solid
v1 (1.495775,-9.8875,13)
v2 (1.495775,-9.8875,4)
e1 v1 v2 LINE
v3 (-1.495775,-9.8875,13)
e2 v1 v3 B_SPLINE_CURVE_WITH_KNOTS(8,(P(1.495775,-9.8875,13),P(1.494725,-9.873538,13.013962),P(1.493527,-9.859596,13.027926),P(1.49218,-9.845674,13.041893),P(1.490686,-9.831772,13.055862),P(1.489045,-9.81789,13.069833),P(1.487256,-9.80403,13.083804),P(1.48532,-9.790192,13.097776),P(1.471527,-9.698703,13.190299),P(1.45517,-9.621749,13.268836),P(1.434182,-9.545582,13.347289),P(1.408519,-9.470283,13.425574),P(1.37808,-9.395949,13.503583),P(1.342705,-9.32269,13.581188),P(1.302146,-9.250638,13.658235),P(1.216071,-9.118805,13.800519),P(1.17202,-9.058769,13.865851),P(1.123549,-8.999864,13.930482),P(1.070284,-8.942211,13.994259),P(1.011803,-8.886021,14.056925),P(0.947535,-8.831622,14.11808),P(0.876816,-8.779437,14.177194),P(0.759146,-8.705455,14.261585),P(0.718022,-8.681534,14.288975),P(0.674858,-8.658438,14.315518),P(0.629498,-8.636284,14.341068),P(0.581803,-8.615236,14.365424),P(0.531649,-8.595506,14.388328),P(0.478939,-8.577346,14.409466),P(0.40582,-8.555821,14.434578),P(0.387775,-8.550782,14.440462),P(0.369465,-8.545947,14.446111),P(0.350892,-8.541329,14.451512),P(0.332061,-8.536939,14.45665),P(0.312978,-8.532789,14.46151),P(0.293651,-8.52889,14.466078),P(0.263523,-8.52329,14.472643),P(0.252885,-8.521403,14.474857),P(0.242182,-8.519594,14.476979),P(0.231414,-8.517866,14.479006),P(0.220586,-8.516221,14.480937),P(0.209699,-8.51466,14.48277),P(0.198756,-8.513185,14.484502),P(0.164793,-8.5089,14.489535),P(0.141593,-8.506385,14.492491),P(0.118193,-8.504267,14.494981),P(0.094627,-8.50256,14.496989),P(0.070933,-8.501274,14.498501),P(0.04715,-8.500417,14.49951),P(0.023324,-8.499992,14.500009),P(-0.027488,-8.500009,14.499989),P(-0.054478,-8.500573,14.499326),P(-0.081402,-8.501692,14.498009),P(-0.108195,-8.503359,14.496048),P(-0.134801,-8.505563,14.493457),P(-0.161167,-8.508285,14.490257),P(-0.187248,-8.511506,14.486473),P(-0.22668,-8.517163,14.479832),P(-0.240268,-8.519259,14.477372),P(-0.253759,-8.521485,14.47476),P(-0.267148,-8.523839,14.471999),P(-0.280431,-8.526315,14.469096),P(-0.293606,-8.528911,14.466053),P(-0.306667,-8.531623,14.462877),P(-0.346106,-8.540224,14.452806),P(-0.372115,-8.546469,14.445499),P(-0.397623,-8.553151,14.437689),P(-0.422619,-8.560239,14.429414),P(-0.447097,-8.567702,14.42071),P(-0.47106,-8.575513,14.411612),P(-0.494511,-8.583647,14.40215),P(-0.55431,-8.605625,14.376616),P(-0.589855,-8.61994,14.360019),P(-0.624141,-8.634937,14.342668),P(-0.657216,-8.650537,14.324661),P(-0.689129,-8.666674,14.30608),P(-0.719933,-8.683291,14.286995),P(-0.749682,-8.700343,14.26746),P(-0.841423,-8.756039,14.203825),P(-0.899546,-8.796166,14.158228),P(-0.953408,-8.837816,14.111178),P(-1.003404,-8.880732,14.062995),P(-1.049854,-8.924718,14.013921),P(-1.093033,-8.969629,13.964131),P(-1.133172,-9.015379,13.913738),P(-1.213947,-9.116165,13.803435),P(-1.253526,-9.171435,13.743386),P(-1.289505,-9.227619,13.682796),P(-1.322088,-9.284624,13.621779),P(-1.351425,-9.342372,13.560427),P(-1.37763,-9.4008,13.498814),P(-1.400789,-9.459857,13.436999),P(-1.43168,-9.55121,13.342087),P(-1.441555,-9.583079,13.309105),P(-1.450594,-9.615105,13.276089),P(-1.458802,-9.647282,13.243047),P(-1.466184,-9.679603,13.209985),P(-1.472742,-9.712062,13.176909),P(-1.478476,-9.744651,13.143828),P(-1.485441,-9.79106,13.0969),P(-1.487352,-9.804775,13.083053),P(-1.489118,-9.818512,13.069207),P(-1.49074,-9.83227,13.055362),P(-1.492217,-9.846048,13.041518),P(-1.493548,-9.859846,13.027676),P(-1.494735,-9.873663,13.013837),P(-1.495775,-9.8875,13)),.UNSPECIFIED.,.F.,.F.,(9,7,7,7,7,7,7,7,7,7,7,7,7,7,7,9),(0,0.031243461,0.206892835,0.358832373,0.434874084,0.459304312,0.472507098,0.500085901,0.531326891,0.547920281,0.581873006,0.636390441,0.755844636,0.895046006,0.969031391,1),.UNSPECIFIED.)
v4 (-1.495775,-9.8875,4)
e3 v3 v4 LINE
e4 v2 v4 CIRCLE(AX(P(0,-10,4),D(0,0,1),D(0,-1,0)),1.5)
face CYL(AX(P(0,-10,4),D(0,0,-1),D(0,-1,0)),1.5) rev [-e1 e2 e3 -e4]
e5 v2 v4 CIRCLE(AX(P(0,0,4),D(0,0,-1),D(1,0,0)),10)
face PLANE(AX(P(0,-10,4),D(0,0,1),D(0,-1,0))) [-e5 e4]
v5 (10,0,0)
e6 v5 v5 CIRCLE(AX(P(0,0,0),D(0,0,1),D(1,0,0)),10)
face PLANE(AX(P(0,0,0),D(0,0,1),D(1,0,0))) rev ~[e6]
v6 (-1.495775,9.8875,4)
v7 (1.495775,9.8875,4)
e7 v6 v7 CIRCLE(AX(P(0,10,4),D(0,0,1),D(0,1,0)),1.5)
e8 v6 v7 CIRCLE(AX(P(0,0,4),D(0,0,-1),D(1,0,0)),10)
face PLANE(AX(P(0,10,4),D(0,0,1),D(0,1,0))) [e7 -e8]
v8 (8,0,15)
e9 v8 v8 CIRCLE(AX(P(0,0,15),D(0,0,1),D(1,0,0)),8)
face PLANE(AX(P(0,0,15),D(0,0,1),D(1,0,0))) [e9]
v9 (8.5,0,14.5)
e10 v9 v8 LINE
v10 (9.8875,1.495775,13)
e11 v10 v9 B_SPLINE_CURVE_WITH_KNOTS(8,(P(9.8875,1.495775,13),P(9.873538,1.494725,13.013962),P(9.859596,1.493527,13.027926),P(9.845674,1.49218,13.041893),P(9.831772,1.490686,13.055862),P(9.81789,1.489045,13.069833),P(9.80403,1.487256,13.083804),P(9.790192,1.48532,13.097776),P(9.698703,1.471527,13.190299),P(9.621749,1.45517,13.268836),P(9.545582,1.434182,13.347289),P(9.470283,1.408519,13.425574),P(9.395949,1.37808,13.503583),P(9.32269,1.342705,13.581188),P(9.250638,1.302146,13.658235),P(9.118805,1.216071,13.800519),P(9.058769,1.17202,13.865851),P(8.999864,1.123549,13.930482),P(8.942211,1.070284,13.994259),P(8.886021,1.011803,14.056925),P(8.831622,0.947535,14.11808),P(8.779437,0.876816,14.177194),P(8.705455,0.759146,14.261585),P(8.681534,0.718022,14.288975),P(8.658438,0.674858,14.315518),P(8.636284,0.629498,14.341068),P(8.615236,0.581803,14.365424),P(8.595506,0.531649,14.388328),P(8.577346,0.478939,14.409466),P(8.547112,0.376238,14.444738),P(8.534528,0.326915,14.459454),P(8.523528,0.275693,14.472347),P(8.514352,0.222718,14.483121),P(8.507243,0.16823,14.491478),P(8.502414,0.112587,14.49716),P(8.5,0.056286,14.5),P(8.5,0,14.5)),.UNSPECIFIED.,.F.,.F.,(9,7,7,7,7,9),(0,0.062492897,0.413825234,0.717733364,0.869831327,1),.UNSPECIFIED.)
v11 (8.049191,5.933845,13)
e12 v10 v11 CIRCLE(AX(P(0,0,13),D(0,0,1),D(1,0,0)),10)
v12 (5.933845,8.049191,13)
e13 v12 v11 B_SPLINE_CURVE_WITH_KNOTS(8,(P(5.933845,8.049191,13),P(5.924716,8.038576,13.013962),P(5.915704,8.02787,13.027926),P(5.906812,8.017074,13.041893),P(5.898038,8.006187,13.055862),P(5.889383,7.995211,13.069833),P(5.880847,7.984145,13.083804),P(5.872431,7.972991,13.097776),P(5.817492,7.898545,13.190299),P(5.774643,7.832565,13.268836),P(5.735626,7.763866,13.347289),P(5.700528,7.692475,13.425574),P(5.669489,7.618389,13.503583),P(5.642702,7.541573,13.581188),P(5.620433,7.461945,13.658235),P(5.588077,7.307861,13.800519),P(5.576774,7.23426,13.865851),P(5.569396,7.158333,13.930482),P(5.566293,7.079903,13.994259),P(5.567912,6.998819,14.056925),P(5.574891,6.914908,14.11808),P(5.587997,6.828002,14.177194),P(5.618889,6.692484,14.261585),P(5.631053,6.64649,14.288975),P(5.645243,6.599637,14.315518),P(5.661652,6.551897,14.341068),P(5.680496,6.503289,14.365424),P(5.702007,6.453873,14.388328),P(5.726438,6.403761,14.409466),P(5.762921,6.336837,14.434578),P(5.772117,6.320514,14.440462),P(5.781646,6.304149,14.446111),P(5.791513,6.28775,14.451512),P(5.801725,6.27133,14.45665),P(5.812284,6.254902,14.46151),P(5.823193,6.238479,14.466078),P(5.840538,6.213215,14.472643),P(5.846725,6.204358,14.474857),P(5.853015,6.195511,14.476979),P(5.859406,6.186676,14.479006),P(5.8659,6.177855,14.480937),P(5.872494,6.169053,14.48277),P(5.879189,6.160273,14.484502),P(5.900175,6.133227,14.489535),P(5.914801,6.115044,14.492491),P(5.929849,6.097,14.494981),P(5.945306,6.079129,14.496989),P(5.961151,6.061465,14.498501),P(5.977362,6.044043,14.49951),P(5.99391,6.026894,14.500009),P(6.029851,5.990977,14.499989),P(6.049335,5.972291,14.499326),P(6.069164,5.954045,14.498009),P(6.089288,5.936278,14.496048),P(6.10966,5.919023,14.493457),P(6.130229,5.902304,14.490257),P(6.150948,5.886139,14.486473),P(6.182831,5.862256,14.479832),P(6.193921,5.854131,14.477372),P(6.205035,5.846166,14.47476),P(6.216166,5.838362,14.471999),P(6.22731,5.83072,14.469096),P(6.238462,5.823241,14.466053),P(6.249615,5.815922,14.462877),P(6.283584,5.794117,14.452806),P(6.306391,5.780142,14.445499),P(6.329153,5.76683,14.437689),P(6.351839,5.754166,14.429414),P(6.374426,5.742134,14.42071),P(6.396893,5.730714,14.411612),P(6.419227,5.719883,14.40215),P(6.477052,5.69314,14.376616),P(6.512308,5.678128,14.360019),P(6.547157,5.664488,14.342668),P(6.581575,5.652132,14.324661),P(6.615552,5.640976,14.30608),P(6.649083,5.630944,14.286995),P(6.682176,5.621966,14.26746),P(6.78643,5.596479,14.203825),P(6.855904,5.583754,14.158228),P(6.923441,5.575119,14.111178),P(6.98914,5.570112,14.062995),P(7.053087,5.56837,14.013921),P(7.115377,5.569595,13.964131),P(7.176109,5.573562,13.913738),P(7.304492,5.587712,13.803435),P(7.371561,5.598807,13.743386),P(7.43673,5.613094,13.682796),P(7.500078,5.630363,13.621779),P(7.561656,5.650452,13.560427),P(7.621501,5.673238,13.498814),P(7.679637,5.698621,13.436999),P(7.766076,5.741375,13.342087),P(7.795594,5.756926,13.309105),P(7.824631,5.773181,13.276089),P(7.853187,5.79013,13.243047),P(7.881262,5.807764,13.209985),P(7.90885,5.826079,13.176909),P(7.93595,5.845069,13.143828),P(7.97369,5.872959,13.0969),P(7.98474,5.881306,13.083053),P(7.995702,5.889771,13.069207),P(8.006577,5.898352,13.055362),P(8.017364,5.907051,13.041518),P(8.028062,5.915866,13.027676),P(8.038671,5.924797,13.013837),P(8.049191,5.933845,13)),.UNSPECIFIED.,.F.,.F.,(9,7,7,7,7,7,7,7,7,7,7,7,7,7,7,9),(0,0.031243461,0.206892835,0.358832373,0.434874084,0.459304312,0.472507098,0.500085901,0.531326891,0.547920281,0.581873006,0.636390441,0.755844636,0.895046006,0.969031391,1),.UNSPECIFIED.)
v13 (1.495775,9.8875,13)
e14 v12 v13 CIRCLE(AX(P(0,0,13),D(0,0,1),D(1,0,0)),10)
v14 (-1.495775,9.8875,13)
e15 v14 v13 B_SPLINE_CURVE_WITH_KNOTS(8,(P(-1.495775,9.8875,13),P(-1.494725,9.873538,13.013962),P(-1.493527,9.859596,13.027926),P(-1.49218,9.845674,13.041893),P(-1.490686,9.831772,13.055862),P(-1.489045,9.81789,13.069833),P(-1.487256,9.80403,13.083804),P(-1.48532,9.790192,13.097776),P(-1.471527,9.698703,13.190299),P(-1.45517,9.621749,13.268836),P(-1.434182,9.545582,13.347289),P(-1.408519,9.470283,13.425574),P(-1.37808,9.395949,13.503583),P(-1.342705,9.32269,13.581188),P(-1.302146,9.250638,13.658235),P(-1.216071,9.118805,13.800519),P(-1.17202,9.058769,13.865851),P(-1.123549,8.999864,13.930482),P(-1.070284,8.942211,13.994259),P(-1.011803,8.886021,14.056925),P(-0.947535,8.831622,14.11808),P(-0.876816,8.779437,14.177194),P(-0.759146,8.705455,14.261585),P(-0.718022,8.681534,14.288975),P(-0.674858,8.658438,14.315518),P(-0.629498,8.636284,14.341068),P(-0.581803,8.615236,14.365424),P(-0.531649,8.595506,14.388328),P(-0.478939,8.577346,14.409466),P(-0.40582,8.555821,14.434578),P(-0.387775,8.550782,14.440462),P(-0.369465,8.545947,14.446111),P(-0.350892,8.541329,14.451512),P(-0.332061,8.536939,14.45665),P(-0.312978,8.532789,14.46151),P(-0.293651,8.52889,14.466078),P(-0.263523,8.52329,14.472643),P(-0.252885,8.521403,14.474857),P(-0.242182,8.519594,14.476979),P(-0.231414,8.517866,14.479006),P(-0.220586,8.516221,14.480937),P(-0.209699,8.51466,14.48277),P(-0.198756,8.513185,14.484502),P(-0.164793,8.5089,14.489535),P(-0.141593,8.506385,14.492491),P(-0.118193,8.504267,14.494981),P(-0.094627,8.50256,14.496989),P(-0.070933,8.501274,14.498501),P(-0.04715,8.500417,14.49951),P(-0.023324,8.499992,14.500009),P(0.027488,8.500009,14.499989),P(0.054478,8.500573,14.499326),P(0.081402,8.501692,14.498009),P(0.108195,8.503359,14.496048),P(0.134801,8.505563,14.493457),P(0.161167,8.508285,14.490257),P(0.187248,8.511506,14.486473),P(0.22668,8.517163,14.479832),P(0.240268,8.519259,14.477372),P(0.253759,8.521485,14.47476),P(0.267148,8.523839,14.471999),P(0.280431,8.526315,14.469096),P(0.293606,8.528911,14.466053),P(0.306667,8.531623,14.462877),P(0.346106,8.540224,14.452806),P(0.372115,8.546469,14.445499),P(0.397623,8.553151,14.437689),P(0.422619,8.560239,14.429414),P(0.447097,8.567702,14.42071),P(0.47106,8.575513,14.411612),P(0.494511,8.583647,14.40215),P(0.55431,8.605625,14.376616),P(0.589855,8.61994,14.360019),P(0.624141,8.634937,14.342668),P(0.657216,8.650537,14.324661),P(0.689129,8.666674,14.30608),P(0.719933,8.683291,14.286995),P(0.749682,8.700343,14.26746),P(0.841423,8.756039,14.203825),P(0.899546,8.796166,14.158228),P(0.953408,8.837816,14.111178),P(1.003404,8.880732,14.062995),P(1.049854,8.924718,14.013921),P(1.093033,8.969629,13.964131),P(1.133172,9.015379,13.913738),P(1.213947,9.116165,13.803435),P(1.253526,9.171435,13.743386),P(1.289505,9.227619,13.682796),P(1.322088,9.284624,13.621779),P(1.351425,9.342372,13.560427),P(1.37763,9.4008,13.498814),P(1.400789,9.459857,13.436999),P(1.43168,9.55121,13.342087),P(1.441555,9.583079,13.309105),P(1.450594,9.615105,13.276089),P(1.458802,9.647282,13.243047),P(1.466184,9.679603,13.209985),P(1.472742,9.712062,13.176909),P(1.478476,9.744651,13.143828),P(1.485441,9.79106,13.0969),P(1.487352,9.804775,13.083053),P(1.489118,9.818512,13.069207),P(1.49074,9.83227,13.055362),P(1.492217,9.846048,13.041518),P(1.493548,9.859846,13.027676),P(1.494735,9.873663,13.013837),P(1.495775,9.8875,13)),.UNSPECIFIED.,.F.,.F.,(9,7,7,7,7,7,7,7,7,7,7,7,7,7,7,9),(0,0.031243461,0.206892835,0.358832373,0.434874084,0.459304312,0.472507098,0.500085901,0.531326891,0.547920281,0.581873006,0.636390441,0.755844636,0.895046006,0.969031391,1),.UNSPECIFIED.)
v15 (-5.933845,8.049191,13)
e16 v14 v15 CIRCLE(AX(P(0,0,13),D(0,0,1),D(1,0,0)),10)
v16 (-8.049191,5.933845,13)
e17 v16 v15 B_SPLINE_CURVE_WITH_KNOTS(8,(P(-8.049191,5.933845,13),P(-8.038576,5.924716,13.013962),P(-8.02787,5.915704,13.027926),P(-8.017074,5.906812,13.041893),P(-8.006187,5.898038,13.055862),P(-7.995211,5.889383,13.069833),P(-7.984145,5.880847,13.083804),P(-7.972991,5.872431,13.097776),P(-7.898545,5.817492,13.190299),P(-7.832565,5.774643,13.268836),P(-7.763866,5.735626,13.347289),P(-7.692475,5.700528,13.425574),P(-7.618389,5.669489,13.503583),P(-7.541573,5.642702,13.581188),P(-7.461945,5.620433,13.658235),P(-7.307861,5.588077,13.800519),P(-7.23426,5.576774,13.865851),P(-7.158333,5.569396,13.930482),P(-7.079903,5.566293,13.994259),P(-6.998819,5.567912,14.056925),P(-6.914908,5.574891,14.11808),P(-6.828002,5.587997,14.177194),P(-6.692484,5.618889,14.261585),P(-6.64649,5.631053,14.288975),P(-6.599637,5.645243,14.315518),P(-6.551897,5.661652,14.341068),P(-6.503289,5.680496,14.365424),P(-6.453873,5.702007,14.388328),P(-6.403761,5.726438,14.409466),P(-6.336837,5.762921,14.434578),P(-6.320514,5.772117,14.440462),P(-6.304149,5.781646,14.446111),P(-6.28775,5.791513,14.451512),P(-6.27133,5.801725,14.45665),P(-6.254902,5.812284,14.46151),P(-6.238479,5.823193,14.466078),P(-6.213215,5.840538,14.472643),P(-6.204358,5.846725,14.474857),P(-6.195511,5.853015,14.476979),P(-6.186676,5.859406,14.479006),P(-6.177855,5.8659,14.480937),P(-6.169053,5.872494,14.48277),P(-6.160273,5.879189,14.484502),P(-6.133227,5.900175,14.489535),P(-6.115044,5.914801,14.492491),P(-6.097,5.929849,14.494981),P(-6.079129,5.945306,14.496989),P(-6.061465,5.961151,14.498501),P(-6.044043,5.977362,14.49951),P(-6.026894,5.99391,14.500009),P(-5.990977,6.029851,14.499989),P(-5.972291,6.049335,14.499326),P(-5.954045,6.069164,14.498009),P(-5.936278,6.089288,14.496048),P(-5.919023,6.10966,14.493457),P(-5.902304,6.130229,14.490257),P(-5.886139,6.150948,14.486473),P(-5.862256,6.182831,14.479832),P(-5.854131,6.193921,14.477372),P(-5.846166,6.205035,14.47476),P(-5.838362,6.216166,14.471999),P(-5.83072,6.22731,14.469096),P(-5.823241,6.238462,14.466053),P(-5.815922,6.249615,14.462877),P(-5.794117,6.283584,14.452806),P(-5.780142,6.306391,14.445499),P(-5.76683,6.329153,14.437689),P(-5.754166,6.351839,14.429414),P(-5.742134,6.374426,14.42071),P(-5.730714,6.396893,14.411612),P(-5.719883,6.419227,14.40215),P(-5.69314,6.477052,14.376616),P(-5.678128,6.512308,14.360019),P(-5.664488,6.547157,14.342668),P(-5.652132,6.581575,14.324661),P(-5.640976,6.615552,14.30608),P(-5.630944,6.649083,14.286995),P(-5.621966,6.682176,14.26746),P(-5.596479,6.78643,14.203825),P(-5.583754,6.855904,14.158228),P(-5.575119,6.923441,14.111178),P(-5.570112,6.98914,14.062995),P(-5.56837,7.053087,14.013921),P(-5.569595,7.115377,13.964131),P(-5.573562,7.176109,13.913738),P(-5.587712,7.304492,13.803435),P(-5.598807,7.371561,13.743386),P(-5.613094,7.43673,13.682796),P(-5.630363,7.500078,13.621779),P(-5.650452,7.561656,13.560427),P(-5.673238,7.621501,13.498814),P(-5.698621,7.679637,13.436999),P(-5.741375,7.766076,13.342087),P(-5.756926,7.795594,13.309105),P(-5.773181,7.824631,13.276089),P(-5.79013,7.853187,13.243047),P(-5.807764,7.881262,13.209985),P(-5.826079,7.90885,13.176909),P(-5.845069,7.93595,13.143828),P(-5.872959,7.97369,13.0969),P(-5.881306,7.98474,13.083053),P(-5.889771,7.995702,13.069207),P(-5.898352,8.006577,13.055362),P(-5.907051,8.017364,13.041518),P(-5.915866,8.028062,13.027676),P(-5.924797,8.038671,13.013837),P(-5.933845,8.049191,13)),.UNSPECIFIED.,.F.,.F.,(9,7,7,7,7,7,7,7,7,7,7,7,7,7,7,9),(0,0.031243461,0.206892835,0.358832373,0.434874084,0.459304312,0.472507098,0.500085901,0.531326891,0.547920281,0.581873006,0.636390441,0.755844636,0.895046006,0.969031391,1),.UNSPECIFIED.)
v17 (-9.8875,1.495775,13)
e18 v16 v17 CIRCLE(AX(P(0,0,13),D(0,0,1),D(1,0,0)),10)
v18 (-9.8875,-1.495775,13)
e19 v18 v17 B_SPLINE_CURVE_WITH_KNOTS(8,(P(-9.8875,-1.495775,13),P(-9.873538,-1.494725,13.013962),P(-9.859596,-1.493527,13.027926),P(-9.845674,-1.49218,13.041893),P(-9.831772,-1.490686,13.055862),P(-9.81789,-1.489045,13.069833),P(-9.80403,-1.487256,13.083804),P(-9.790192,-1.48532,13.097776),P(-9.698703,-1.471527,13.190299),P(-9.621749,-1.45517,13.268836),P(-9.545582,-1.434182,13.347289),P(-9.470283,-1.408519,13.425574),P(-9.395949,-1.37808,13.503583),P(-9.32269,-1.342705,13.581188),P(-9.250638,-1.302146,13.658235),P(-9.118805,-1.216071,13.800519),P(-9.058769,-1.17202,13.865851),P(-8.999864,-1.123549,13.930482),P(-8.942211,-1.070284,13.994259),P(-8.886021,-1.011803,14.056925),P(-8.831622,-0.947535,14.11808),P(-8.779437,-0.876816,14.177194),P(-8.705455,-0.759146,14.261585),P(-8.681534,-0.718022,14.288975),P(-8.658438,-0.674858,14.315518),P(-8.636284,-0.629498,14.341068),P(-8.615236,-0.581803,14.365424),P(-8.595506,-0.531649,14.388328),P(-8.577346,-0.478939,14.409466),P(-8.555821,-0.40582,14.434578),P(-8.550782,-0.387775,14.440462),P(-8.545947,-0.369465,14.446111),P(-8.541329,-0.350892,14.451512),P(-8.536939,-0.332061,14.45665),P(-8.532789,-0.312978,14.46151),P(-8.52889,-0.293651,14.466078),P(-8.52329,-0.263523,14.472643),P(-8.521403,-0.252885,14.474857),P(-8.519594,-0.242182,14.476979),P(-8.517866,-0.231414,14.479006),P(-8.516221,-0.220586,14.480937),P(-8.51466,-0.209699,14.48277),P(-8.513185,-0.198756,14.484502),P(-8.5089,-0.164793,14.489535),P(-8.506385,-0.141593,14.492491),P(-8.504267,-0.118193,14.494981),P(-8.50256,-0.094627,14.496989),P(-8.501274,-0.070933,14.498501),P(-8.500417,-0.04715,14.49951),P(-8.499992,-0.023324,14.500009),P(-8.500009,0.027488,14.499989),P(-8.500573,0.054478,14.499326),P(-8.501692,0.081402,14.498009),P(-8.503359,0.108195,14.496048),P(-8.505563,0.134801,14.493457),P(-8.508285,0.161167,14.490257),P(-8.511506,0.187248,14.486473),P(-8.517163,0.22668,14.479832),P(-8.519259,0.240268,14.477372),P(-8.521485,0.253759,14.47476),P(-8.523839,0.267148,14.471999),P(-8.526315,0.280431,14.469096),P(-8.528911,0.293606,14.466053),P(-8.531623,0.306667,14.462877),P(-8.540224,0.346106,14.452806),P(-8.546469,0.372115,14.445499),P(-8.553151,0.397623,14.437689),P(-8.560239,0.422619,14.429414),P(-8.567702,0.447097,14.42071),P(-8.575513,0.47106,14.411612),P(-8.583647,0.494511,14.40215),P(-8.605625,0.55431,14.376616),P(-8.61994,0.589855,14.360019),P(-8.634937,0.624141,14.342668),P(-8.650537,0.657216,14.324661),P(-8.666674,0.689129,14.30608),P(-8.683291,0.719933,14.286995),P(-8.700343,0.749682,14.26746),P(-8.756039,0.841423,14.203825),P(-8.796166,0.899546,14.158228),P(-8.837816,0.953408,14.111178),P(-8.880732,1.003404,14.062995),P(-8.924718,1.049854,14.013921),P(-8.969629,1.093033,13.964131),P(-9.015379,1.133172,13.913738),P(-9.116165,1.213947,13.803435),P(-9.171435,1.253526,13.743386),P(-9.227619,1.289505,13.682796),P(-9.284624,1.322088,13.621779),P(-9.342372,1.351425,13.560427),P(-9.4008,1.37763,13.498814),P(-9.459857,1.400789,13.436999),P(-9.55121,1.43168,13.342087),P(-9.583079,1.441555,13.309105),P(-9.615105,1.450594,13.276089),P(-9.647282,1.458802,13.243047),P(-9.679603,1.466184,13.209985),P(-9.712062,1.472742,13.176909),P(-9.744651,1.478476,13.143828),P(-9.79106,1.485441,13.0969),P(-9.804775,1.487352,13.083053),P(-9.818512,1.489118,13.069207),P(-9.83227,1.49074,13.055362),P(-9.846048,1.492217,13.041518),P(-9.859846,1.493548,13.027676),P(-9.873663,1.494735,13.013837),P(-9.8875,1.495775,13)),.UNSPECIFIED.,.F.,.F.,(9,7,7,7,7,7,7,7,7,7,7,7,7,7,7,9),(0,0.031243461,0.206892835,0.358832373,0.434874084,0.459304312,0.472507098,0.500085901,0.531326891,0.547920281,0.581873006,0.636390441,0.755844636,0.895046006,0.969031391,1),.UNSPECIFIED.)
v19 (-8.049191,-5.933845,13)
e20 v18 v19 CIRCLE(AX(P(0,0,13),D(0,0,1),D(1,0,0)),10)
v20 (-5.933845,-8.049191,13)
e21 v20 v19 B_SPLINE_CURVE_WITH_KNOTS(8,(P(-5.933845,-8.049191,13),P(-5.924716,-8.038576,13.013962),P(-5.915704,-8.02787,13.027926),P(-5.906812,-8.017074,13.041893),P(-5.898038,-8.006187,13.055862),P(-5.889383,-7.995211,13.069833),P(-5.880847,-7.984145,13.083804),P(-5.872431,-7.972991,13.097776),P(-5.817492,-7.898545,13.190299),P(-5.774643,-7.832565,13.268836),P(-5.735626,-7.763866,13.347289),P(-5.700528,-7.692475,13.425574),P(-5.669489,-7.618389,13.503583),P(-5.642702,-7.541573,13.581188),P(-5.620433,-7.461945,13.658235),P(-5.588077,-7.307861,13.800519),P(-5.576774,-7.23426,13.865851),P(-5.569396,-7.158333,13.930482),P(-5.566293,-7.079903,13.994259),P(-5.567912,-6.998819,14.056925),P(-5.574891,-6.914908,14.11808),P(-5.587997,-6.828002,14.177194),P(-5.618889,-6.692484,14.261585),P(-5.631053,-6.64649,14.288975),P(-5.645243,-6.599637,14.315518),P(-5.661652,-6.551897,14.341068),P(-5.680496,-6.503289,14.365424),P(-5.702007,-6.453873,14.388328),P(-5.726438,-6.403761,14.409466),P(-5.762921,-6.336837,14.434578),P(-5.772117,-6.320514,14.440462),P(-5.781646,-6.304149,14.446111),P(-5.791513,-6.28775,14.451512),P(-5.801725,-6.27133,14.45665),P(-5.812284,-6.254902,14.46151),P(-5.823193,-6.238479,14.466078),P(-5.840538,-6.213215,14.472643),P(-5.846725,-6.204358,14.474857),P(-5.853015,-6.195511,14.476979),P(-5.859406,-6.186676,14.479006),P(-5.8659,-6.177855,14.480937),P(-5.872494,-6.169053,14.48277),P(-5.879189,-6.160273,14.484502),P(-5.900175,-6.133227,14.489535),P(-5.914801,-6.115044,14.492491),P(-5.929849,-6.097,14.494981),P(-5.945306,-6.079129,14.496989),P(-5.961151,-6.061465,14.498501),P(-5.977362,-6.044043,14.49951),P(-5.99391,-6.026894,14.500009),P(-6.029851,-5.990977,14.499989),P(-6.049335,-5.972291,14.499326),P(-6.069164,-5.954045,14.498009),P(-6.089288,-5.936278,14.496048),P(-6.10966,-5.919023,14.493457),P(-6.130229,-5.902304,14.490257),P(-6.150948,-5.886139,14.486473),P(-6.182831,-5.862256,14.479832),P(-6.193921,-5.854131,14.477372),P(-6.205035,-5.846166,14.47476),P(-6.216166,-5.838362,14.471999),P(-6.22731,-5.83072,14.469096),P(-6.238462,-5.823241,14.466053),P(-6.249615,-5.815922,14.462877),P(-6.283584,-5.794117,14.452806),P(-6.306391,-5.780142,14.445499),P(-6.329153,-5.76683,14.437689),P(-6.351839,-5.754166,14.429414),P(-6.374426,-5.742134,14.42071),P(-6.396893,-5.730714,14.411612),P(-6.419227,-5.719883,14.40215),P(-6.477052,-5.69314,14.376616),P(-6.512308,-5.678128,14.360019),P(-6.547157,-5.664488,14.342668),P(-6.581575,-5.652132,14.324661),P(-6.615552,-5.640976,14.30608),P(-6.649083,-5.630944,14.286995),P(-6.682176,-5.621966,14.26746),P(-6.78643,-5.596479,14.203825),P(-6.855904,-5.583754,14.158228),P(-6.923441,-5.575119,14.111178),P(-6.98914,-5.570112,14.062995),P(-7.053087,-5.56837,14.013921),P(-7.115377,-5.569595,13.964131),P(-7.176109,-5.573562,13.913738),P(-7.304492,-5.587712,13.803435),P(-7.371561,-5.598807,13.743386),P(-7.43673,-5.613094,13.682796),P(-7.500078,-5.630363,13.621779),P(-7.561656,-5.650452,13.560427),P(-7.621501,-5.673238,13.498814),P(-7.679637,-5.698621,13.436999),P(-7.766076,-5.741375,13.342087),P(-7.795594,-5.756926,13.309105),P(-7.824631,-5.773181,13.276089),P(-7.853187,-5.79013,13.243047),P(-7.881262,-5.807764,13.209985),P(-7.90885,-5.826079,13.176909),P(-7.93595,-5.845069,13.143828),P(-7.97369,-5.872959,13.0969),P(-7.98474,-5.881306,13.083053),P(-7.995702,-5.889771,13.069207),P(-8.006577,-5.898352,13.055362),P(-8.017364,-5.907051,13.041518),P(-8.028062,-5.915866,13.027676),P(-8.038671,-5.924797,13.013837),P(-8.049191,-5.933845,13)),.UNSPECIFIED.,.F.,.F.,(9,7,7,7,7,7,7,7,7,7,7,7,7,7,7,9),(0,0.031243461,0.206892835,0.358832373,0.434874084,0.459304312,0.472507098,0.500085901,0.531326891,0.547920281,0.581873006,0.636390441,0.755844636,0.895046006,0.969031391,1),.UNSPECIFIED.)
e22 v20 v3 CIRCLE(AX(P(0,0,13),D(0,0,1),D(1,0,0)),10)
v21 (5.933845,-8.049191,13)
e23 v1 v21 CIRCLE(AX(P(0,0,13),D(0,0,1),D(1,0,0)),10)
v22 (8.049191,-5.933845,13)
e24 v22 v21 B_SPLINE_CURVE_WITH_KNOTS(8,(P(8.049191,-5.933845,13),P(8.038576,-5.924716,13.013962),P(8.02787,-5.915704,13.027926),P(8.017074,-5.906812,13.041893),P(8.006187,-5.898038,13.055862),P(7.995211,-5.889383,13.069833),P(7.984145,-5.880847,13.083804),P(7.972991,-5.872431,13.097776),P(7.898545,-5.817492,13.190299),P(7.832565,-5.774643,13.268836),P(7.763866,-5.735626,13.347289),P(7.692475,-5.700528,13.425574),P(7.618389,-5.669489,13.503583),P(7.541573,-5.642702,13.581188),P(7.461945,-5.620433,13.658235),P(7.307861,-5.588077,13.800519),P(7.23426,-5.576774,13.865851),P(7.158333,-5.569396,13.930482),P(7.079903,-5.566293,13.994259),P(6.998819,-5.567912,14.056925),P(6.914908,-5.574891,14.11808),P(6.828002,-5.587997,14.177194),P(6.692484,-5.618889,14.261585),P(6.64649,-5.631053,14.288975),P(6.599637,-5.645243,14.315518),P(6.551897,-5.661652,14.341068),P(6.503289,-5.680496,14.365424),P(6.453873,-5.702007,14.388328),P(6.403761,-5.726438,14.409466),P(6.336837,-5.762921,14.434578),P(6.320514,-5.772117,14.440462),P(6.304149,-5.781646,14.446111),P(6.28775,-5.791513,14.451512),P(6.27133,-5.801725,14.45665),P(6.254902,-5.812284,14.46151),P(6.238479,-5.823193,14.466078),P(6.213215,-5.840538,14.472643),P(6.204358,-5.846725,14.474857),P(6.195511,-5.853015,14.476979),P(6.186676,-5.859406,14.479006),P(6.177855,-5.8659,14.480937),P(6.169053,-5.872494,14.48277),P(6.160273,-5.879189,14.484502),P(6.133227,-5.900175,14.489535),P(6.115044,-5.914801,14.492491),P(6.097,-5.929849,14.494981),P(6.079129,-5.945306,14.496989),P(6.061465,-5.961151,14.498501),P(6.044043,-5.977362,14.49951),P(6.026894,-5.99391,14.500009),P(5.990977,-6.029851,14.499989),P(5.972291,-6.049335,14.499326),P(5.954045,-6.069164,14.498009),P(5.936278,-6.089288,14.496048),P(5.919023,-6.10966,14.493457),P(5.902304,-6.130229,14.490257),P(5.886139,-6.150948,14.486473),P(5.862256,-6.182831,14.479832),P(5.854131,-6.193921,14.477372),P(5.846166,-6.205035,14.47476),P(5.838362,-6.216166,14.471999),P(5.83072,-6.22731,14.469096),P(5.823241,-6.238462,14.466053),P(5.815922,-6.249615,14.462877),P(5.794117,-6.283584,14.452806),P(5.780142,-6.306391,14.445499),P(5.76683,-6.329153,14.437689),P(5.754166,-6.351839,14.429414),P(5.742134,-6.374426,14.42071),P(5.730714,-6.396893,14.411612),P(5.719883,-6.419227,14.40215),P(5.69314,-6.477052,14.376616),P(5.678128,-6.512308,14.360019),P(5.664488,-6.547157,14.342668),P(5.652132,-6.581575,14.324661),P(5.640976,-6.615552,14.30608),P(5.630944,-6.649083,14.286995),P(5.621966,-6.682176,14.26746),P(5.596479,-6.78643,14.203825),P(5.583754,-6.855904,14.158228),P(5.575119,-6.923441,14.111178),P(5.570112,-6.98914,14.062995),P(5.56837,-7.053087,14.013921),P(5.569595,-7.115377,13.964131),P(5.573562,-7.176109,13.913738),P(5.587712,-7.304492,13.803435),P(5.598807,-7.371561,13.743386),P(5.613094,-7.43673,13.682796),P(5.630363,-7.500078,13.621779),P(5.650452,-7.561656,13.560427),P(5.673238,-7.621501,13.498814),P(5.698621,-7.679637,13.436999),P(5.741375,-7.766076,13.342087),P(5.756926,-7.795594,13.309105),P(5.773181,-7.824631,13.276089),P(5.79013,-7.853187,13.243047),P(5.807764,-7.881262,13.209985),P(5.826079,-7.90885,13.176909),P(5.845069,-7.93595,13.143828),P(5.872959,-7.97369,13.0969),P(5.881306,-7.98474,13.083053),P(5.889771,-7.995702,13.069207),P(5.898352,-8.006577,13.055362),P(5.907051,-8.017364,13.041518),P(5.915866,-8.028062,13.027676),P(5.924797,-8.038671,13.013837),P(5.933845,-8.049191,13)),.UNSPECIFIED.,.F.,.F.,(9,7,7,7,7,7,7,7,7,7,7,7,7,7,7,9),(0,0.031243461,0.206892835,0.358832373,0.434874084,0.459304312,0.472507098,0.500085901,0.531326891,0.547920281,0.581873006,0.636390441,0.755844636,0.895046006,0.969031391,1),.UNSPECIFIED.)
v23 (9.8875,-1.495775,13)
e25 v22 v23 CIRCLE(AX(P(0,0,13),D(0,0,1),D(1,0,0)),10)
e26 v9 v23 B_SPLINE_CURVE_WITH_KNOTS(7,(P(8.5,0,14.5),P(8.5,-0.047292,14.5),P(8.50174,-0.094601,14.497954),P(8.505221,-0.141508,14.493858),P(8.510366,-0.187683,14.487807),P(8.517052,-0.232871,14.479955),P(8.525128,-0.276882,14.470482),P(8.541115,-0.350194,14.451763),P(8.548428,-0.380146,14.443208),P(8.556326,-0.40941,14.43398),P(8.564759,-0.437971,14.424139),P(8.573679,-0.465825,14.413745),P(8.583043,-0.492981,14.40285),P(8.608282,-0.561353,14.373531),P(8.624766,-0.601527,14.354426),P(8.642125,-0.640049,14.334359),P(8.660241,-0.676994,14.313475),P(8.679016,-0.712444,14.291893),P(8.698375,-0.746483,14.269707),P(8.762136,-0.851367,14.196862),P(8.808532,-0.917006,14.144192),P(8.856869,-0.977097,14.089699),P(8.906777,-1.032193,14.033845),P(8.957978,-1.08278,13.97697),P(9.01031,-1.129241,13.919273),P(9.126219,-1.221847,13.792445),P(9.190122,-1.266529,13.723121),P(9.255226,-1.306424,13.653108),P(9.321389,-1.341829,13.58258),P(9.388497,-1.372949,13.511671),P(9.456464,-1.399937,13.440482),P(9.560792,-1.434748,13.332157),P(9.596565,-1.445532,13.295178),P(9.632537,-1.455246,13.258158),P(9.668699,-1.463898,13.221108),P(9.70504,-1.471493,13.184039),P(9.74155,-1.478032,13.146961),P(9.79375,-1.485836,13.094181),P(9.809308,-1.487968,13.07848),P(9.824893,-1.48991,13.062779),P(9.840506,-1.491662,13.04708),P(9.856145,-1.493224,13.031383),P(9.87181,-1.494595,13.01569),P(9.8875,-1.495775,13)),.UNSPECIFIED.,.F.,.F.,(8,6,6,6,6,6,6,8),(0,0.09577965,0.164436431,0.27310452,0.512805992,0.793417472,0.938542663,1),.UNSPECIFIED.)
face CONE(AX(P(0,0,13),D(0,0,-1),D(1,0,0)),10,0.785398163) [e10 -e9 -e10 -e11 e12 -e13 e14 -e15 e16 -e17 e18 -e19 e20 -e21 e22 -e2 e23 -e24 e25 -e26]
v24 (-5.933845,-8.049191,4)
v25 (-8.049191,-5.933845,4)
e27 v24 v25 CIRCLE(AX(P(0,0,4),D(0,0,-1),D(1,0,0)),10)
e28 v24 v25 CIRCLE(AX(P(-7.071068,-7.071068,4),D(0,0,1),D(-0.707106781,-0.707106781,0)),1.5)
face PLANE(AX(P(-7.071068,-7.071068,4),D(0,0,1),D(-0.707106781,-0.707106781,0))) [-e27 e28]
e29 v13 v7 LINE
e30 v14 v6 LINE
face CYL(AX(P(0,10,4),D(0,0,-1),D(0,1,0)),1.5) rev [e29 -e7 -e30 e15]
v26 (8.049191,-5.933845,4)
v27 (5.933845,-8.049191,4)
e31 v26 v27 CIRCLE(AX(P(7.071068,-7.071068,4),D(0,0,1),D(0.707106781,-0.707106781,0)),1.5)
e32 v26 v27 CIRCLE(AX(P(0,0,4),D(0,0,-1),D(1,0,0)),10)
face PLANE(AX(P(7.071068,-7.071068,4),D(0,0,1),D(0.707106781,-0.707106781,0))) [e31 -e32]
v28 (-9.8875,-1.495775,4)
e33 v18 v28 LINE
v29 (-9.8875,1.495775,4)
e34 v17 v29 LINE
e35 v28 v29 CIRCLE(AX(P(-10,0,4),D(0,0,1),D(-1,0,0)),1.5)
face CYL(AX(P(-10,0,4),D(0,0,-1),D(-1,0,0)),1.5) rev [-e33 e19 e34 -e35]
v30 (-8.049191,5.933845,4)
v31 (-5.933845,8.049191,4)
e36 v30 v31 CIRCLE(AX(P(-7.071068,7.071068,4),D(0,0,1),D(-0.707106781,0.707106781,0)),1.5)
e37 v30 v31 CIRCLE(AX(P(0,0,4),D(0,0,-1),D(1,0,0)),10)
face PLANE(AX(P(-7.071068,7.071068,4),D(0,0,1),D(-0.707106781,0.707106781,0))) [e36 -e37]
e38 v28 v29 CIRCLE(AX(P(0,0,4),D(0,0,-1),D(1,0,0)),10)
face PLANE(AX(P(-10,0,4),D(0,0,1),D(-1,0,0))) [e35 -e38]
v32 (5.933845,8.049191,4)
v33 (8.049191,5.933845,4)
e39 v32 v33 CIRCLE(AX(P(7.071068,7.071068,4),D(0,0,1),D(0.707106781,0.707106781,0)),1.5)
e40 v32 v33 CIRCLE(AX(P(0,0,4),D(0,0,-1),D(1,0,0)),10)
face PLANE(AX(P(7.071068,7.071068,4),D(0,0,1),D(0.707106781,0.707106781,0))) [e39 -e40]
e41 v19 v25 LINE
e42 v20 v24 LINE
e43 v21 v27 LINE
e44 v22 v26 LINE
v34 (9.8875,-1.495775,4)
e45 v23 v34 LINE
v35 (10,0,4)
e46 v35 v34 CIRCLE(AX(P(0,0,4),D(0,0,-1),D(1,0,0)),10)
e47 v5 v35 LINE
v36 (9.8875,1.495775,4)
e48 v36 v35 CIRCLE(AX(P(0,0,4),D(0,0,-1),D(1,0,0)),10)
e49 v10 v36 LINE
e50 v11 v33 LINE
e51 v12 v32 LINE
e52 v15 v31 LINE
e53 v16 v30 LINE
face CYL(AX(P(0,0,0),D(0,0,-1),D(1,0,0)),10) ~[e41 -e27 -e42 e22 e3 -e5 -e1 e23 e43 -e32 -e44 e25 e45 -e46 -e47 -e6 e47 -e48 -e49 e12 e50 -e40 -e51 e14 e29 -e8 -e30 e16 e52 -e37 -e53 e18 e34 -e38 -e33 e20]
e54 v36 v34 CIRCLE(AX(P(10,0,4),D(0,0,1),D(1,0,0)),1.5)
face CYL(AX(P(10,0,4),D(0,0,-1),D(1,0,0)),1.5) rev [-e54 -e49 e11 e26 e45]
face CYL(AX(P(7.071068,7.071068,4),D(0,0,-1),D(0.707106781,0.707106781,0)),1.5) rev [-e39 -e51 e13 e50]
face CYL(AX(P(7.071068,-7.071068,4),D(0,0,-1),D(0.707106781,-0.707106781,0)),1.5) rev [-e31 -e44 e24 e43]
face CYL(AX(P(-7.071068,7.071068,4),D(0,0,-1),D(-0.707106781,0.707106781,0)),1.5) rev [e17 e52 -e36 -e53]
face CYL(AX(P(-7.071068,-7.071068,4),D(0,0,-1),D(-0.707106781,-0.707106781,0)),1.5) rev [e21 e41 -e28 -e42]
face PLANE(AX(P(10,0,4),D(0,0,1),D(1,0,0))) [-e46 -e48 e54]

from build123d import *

# Parameters (mm, degrees)
CYLINDER001_R     = 1.5
CYLINDER001_DEPTH = 20
ARRAY_COUNT       = 8
CYLINDER_R        = 10
CYLINDER_DEPTH    = 15
CHAMFER_SIZE      = 2


with BuildPart() as array:
    # Cylinder001 → Cylinder001 (new body)
    with BuildSketch(Plane(origin=(10, 0, 0), x_dir=(1, 0, 0), z_dir=(0, 0, 1))):
        Circle(CYLINDER001_R)
    extrude(amount=CYLINDER001_DEPTH)

    # Array: Array ×8 about axis
    array_axis = Axis((0, 0, 0), (0, 0, 1))


with BuildPart() as array_1:
    add(array.part)
    for i in range(1, ARRAY_COUNT):
        add(array.part.rotate(array_axis, i * 360 / ARRAY_COUNT))


with BuildPart() as array_2:
    # Array placement: moved
    add(array_1.part.moved(Location((0, 0, 4))))


with BuildPart() as cut:
    # Cylinder → Cylinder (new body)
    with BuildSketch(Plane.XY):
        Circle(CYLINDER_R)
    extrude(amount=CYLINDER_DEPTH)

    # Chamfer
    chamfer_edges = [cut.edges().sort_by_distance(p)[0] for p in [
        (-10, 0, 15),
    ]]
    chamfer(chamfer_edges, length=CHAMFER_SIZE)

    # Cut: cut Array
    add(array_2.part, mode=Mode.SUBTRACT)


solid = cut.part
